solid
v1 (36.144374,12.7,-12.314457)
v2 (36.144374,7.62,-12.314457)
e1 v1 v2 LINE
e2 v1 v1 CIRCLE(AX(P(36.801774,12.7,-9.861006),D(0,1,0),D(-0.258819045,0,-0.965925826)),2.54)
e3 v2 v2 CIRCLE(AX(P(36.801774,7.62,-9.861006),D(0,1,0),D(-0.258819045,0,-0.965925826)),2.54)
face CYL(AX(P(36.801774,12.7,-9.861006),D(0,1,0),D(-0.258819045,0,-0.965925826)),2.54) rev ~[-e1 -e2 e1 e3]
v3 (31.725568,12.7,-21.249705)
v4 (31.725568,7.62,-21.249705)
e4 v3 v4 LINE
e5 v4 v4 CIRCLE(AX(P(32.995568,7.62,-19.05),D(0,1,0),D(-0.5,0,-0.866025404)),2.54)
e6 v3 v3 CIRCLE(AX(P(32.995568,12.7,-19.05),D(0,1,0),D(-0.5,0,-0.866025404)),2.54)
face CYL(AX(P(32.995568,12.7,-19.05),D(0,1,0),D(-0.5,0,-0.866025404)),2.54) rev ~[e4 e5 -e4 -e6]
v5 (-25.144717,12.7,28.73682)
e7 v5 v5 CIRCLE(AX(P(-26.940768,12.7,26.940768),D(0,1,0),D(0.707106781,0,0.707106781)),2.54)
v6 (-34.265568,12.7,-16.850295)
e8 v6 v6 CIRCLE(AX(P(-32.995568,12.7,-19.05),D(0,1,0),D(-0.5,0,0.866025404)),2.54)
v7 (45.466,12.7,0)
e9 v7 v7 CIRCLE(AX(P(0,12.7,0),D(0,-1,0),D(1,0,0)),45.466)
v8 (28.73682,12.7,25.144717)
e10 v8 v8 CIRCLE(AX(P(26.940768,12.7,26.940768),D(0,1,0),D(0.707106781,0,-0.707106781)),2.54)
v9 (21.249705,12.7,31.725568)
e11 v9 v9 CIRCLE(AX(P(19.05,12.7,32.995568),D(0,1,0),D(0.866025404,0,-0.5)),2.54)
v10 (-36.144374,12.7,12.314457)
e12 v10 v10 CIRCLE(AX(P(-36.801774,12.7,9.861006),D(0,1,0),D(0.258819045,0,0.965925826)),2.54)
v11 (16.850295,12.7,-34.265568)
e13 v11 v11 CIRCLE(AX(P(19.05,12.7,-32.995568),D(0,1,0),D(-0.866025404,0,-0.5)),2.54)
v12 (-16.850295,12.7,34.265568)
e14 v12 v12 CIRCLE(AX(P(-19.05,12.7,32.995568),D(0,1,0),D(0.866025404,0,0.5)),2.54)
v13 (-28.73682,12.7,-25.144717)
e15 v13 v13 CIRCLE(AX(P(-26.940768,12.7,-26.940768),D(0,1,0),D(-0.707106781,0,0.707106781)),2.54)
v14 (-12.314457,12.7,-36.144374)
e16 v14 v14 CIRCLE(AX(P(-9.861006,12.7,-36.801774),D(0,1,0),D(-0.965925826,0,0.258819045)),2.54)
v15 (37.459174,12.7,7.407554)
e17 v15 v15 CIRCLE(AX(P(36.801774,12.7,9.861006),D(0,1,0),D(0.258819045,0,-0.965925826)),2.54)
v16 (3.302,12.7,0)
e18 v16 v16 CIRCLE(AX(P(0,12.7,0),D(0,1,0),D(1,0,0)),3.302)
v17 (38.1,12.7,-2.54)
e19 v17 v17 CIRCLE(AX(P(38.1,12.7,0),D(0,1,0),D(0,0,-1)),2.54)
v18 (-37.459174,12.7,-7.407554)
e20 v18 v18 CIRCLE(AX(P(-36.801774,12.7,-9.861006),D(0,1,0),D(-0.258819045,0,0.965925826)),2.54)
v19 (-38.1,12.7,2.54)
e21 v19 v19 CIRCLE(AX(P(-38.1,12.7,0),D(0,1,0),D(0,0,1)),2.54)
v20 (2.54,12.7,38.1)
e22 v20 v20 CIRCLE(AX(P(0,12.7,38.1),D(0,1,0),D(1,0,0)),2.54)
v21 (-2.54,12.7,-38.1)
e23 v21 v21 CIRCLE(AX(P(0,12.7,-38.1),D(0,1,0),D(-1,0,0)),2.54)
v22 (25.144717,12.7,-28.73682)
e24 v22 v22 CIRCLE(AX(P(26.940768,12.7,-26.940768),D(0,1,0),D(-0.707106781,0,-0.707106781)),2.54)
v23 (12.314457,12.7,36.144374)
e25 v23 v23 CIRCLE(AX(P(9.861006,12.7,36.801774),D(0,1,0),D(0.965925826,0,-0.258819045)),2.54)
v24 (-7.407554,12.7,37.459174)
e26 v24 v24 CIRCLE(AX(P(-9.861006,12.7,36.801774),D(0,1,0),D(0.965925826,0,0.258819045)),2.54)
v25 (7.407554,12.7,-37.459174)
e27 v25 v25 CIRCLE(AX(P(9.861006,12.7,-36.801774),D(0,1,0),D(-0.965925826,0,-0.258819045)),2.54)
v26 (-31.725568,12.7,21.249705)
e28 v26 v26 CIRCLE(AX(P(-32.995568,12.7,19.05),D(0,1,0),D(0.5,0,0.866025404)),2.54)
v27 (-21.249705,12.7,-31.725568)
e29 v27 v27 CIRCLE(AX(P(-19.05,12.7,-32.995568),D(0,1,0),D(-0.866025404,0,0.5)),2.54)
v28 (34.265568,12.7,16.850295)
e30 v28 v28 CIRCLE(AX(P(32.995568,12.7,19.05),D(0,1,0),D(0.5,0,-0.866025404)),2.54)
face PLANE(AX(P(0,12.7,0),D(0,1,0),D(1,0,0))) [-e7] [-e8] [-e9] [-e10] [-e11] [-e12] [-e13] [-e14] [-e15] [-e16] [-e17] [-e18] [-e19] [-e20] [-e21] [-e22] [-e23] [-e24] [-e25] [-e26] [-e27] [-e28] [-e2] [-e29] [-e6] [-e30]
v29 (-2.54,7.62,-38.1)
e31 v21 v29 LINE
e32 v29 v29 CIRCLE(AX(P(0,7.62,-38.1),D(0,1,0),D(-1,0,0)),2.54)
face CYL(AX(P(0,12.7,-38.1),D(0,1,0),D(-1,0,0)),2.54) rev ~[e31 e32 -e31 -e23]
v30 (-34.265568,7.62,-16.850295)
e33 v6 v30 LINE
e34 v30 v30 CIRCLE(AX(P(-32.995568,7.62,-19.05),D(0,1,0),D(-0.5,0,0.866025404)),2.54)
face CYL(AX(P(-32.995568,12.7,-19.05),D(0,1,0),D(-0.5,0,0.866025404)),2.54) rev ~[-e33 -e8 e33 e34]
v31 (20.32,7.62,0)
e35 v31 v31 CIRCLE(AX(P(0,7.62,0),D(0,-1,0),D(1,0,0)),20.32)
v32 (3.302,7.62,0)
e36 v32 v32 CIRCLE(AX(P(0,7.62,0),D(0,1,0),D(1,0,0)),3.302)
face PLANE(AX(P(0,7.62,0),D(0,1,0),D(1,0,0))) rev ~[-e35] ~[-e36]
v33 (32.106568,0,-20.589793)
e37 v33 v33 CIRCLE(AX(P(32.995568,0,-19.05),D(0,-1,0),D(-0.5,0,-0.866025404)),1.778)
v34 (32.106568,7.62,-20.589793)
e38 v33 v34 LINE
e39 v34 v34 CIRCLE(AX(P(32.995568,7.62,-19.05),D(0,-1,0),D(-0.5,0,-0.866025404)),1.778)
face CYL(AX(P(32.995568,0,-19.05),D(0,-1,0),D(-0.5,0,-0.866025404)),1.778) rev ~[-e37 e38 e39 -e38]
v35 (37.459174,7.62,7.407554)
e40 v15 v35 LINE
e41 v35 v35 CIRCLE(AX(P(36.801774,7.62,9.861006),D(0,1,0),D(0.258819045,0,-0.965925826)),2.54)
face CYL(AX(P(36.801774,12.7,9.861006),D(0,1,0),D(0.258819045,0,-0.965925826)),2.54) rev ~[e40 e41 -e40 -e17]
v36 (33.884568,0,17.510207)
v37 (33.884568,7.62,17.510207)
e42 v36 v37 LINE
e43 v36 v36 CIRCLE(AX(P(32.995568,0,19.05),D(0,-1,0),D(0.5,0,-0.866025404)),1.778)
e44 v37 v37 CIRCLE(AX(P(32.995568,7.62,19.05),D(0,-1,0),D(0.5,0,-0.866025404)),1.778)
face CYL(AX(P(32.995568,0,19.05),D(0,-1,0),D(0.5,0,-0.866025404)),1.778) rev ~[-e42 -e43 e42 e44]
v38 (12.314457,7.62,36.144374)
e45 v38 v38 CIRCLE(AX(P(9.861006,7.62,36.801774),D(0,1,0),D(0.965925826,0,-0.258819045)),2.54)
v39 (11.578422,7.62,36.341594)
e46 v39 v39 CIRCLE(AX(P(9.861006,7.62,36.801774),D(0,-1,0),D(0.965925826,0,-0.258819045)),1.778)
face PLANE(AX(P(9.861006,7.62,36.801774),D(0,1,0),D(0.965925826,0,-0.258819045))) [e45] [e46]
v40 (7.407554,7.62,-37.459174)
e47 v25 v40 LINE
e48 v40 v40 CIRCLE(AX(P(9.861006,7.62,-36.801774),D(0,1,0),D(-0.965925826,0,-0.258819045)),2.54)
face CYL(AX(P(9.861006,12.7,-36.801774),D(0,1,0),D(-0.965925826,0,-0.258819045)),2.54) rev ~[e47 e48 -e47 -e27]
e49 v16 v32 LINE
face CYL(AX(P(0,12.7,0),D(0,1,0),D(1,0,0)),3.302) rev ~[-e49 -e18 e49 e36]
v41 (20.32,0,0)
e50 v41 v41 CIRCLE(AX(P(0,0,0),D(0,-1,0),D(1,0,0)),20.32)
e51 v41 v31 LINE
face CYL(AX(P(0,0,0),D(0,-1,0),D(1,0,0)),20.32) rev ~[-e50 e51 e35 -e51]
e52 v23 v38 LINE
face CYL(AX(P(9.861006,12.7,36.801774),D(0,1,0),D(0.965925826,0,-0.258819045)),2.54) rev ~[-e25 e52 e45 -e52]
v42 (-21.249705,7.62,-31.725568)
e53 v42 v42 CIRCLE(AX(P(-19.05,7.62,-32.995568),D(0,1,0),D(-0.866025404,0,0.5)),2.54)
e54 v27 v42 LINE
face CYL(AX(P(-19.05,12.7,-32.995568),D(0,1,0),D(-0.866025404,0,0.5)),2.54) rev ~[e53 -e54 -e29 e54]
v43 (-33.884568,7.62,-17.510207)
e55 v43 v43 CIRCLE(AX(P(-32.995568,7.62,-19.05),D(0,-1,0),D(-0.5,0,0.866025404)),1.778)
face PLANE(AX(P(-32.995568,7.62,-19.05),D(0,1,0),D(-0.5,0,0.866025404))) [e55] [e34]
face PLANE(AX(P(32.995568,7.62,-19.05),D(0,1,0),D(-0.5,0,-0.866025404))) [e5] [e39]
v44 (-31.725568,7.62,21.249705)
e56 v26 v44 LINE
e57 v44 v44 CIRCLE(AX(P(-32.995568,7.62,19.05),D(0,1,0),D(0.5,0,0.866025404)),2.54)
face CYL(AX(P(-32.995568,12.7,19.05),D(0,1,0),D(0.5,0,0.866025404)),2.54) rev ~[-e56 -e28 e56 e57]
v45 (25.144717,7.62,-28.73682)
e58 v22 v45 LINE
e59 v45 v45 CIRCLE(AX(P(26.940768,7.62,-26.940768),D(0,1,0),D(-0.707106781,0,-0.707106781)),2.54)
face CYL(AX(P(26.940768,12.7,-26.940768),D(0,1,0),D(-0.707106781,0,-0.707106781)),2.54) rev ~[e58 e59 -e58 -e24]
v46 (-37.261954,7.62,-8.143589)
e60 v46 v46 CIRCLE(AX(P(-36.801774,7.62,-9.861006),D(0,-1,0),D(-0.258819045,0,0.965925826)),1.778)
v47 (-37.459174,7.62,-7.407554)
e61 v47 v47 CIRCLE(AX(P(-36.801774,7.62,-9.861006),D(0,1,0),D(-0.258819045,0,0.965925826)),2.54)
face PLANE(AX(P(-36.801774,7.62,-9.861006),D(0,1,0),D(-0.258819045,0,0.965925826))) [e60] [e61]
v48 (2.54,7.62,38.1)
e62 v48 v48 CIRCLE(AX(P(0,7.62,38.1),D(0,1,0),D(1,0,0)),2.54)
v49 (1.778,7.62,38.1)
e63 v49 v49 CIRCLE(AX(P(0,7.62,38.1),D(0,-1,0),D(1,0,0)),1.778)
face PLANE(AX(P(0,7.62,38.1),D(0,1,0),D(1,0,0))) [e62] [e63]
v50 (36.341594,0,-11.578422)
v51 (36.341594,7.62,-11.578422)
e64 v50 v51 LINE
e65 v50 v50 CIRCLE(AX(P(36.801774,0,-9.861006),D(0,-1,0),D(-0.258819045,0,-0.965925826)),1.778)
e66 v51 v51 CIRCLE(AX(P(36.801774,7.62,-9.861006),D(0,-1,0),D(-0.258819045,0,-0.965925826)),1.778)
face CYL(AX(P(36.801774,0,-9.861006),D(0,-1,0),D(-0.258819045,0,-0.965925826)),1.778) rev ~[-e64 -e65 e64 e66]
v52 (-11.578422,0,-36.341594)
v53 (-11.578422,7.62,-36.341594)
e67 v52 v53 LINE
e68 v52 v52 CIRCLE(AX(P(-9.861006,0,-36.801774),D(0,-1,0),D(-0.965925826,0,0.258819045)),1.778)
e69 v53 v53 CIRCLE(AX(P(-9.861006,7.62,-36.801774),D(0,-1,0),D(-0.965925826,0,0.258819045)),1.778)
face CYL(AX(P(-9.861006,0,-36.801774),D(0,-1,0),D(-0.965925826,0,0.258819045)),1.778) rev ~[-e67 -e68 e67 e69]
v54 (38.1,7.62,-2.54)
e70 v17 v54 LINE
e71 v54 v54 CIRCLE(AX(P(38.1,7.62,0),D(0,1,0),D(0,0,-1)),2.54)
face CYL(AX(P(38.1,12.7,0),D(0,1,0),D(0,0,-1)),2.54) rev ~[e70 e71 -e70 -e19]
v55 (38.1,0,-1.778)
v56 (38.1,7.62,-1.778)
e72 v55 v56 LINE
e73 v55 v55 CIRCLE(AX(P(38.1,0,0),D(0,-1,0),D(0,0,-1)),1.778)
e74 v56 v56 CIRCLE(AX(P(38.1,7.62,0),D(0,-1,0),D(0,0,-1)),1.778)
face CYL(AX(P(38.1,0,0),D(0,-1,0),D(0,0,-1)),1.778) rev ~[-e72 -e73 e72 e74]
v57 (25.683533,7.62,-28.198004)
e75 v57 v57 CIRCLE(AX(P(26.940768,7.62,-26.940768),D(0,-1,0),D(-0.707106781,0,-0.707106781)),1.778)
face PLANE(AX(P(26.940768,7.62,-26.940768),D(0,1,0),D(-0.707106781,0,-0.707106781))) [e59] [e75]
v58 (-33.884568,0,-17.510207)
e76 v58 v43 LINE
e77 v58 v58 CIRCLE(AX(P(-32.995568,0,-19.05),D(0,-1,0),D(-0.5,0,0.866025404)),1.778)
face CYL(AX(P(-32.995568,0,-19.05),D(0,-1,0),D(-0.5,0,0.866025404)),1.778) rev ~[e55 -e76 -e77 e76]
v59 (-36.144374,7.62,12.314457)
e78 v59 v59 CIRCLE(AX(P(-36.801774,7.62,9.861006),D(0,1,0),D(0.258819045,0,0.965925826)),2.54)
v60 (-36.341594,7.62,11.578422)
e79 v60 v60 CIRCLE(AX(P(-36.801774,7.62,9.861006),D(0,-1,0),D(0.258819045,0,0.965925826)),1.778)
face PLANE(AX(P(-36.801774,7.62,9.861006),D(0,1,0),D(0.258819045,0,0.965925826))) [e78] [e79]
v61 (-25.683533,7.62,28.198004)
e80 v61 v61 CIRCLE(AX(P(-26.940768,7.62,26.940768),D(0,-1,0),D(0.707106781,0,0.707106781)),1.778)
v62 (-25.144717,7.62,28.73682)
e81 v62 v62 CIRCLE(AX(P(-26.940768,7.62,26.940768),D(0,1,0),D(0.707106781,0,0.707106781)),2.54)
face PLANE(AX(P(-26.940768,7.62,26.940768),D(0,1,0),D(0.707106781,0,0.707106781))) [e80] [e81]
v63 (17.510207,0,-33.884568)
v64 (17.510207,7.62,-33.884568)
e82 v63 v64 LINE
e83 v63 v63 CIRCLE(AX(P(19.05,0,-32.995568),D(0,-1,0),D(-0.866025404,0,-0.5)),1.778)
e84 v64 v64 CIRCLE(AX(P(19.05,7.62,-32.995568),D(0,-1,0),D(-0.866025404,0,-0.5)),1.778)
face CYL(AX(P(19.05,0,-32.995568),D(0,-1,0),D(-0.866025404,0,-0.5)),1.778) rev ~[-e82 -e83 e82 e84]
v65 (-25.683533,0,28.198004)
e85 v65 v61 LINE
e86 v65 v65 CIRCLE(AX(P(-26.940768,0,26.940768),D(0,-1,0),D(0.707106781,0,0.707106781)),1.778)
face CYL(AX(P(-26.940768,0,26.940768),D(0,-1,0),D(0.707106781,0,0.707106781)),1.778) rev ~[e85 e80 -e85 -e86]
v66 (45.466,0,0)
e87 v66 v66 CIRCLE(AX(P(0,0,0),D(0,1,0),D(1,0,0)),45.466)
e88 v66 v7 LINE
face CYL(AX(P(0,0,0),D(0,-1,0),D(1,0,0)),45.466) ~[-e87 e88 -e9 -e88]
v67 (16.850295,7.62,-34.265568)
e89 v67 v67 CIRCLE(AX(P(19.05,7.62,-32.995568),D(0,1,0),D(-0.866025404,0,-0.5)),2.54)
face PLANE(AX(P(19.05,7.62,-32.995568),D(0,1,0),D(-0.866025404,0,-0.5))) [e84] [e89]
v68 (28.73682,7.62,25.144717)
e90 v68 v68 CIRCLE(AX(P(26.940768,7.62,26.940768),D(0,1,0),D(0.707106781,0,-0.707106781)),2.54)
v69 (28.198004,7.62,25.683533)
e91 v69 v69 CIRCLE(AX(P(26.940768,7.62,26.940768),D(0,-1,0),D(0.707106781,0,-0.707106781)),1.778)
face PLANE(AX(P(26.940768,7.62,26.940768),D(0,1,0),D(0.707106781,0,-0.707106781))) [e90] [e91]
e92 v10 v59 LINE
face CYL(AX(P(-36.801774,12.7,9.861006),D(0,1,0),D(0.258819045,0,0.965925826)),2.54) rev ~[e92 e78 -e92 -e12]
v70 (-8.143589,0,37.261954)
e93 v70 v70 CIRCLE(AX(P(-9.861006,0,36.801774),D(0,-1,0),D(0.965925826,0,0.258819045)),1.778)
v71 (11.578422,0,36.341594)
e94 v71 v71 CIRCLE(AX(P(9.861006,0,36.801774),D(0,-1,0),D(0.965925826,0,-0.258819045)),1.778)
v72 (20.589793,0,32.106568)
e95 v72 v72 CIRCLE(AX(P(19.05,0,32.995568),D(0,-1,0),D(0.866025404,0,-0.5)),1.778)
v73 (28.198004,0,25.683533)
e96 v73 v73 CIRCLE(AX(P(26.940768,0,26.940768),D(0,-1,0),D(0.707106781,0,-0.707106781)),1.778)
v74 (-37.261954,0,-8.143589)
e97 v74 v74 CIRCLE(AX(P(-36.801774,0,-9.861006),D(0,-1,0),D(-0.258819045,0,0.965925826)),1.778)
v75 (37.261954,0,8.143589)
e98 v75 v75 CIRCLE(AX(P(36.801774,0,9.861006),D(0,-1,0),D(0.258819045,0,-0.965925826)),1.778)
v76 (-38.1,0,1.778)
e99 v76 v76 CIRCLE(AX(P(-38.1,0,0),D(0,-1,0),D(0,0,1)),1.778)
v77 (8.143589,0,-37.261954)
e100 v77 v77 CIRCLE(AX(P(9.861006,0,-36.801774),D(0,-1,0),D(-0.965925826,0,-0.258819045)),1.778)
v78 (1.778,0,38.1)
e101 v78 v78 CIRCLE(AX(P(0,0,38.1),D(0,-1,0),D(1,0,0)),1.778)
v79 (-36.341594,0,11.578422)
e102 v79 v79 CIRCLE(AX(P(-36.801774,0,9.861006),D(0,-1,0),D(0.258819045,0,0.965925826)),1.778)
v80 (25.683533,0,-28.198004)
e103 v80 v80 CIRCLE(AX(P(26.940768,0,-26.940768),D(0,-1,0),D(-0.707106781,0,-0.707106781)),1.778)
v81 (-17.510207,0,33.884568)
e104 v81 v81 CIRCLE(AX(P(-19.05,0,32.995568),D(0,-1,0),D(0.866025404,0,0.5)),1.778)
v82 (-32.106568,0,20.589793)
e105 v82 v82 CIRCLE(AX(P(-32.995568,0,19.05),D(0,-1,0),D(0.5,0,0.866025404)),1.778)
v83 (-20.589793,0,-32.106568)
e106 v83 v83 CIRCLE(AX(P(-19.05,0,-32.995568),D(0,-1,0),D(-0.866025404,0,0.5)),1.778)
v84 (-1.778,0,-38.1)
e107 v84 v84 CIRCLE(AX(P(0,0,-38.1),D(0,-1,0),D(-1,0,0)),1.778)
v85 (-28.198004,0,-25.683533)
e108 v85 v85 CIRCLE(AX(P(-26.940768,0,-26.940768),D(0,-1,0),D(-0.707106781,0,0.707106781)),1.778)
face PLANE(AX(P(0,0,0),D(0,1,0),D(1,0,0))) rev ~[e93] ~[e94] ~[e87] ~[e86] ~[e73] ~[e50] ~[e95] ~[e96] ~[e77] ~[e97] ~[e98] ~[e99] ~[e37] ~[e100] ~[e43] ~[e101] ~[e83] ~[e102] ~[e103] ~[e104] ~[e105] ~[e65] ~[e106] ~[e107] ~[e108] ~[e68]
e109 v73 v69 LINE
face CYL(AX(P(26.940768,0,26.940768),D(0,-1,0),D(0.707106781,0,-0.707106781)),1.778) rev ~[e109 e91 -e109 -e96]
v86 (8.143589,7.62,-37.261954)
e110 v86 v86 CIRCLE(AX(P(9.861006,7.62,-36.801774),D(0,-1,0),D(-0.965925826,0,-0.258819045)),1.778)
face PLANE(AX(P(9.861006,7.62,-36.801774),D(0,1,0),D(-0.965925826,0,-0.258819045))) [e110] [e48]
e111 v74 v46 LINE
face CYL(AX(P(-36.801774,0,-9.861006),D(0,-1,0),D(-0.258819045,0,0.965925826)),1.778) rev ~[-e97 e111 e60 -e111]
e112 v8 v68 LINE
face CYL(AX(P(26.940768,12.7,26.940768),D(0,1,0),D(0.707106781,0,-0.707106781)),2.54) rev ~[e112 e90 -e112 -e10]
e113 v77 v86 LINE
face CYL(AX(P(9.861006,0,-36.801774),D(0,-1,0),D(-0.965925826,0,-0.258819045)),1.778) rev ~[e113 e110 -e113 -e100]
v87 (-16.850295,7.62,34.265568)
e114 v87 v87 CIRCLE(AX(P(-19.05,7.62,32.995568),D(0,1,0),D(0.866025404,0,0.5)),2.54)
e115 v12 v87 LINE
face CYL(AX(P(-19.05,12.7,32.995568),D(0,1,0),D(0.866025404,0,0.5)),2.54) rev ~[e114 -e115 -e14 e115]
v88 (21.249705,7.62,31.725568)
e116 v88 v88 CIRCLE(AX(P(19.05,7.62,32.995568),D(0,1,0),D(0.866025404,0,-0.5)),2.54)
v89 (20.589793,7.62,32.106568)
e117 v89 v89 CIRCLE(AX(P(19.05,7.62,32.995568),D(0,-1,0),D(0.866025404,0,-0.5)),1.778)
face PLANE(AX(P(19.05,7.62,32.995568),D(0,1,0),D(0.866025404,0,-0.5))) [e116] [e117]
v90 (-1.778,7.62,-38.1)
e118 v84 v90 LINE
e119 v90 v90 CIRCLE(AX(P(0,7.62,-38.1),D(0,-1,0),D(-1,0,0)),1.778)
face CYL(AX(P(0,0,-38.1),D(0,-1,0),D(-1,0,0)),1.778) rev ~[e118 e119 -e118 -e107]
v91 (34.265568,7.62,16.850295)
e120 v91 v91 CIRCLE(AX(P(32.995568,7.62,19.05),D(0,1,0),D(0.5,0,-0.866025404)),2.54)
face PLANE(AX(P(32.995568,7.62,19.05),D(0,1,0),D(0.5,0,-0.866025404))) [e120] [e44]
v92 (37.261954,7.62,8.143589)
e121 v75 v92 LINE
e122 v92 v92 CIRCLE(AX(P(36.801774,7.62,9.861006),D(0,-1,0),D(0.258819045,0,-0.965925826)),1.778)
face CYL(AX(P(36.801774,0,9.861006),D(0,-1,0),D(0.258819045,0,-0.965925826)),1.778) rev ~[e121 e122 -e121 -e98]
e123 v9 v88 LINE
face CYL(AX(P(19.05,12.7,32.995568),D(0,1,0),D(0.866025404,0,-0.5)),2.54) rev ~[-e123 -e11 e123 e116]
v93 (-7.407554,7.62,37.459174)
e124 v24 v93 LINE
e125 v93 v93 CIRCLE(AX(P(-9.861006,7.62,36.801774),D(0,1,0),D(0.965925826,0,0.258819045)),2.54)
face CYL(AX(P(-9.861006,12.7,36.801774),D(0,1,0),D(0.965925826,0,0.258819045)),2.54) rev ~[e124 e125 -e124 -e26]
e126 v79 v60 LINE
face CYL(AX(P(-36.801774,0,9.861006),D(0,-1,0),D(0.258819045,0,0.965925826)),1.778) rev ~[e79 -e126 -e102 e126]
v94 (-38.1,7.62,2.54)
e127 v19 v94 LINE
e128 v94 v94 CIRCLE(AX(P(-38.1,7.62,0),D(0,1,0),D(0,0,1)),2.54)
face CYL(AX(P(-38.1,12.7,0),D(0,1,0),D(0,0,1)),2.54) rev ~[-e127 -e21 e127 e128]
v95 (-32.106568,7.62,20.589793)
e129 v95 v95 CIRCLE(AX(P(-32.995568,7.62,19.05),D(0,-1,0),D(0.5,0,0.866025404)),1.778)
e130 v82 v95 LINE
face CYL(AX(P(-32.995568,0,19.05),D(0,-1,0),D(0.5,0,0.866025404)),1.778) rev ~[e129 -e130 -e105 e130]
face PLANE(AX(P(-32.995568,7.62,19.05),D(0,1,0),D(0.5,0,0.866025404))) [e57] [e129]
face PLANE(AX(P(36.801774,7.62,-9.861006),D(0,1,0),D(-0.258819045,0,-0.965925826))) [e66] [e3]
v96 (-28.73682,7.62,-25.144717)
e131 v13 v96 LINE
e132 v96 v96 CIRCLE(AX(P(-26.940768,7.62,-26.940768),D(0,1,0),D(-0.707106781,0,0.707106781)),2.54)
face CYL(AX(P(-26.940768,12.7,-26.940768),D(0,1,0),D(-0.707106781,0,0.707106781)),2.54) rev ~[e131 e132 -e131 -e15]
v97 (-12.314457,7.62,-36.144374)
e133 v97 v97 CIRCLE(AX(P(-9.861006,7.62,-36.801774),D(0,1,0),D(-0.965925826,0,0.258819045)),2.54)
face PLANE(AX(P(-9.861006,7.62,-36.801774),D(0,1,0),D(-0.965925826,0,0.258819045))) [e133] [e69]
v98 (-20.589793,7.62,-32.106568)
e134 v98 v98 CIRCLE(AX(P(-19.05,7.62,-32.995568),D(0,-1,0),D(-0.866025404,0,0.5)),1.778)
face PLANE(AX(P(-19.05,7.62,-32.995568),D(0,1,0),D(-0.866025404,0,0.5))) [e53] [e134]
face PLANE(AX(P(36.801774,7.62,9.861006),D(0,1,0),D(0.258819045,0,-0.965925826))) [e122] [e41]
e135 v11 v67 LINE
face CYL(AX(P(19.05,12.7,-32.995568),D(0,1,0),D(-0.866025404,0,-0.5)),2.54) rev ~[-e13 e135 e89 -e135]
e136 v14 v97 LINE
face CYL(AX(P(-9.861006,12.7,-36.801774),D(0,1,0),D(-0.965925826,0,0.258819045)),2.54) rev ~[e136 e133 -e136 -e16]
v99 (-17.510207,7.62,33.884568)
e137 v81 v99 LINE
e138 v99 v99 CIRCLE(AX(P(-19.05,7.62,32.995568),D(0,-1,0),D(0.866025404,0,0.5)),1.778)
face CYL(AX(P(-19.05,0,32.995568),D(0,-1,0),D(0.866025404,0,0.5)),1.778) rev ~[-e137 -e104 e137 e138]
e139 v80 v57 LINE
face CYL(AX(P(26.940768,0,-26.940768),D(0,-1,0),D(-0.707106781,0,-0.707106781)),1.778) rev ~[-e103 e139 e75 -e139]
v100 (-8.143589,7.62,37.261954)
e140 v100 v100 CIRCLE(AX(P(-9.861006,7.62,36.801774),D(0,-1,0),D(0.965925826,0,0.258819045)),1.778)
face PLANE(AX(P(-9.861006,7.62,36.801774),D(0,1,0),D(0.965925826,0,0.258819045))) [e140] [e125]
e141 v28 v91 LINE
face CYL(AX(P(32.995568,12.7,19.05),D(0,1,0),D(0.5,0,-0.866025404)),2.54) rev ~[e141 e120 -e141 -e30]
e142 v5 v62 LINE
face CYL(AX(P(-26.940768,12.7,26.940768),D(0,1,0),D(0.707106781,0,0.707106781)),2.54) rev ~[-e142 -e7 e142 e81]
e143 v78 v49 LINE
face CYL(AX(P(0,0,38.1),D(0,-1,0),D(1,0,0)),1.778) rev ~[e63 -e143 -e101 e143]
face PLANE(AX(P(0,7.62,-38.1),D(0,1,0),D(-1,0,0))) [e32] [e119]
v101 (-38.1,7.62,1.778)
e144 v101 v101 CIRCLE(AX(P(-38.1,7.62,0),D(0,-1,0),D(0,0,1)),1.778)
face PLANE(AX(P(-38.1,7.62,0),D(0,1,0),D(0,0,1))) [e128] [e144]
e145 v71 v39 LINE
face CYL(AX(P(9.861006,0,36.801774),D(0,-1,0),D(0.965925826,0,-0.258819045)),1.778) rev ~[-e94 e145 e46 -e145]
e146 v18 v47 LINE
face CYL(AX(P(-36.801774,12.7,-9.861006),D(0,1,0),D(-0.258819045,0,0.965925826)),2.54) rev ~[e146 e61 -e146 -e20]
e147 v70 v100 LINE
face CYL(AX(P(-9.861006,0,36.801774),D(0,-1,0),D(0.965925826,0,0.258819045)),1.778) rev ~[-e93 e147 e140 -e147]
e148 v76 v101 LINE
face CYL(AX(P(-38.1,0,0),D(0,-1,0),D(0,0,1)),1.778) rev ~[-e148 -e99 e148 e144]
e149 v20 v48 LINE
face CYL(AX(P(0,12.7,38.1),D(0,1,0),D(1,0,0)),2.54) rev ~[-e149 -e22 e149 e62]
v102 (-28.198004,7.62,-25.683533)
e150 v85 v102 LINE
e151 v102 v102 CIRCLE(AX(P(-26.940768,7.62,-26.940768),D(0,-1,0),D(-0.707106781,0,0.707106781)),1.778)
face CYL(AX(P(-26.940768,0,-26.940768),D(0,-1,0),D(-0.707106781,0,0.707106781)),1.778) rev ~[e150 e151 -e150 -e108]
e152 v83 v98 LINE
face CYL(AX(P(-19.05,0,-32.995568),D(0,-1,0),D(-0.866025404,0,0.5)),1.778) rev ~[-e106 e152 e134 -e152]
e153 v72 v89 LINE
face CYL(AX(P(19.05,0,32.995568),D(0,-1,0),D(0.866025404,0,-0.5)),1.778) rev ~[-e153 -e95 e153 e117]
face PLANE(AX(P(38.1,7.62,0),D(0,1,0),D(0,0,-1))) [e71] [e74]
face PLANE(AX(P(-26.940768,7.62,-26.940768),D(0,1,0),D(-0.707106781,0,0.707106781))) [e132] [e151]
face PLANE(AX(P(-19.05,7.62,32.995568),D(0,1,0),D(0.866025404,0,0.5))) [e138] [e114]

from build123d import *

# Parameters (mm, degrees)
SKETCH1_R                                        = 45.466
BOSS_EXTRUDE1_DEPTH                              = 25.4
SKETCH3_R                                        = 20.32
CUT_EXTRUDE1_DEPTH                               = 12.7
CSK_FOR_1_4_FLAT_HEAD_MACHINE_SCREW1_D           = 6.5278
CSK_FOR_1_4_FLAT_HEAD_MACHINE_SCREW1_DEPTH       = 25.4
CSK_FOR_1_4_FLAT_HEAD_MACHINE_SCREW1_CSINK_D     = 12.8778
CSK_FOR_1_4_FLAT_HEAD_MACHINE_SCREW1_CSINK_ANGLE = 82
CSK_FOR_1_4_FLAT_HEAD_MACHINE_SCREW1_TIP         = 1.961148974
SKETCH8_R                                        = 46.955588052
CUT_EXTRUDE2_DEPTH                               = 12.7
SKETCH4_R                                        = 1.778
CUT_EXTRUDE3_DEPTH                               = 13.7
SKETCH9_R                                        = 2.54
CUT_EXTRUDE4_DEPTH                               = 5.08
CIRPATTERN1_COUNT                                = 24
SKETCH10_R                                       = 22.834776664
BOSS_EXTRUDE2_DEPTH                              = 5.08
SKETCH11_R                                       = 3.302
CUT_EXTRUDE5_DEPTH                               = 13.7


with BuildPart() as part:
    # Sketch1 → Boss-Extrude1 (new body)
    with BuildSketch(Plane(origin=(0, 0, 0), x_dir=(1, 0, 0), z_dir=(0, 1, 0))):
        Circle(SKETCH1_R)
    extrude(amount=BOSS_EXTRUDE1_DEPTH)

    # Sketch3 → Cut-Extrude1 (cut)
    with BuildSketch(Plane.XZ):
        Circle(SKETCH3_R)
    extrude(amount=-CUT_EXTRUDE1_DEPTH, mode=Mode.SUBTRACT)

    # CSK for 1/4 Flat Head Machine Screw1
    with Locations(Plane(origin=(0, 25.4, 0), x_dir=(1, 0, 0), z_dir=(0, 1, 0))):
        with Locations((0, 0)):
            CounterSinkHole(CSK_FOR_1_4_FLAT_HEAD_MACHINE_SCREW1_D / 2, CSK_FOR_1_4_FLAT_HEAD_MACHINE_SCREW1_CSINK_D / 2, depth=CSK_FOR_1_4_FLAT_HEAD_MACHINE_SCREW1_DEPTH, counter_sink_angle=CSK_FOR_1_4_FLAT_HEAD_MACHINE_SCREW1_CSINK_ANGLE)
            with Locations((0, 0, -(CSK_FOR_1_4_FLAT_HEAD_MACHINE_SCREW1_DEPTH + CSK_FOR_1_4_FLAT_HEAD_MACHINE_SCREW1_TIP / 2))):  # 118° drill point
                Cone(0, CSK_FOR_1_4_FLAT_HEAD_MACHINE_SCREW1_D / 2, CSK_FOR_1_4_FLAT_HEAD_MACHINE_SCREW1_TIP, mode=Mode.SUBTRACT)

    # Sketch8 → Cut-Extrude2 (cut)
    with BuildSketch(Plane(origin=(0, 25.4, 0), x_dir=(1, 0, 0), z_dir=(0, 1, 0))):
        Circle(SKETCH8_R)
    extrude(amount=-CUT_EXTRUDE2_DEPTH, mode=Mode.SUBTRACT)

    # Sketch4 → Cut-Extrude3 (cut, through all)
    with BuildSketch(Plane.XZ):
        with Locations((0, 38.1)):
            Circle(SKETCH4_R)
    cut_extrude3 = extrude(amount=-CUT_EXTRUDE3_DEPTH, mode=Mode.SUBTRACT)

    # Sketch9 → Cut-Extrude4 (cut)
    with BuildSketch(Plane(origin=(0, 12.7, 0), x_dir=(1, 0, 0), z_dir=(0, 1, 0))):
        with Locations((0, -38.1)):
            Circle(SKETCH9_R)
    cut_extrude4 = extrude(amount=-CUT_EXTRUDE4_DEPTH, mode=Mode.SUBTRACT)

    # CirPattern1: Cut-Extrude3, Cut-Extrude4 ×24 about axis
    cirpattern1_axis = Axis((0, 0, 0), (0, 1, 0))
    for i in range(1, CIRPATTERN1_COUNT):
        add(cut_extrude3.rotate(cirpattern1_axis, i * 360 / CIRPATTERN1_COUNT), mode=Mode.SUBTRACT)
        add(cut_extrude4.rotate(cirpattern1_axis, i * 360 / CIRPATTERN1_COUNT), mode=Mode.SUBTRACT)

    # Sketch10 → Boss-Extrude2 (add)
    with BuildSketch(Plane(origin=(0, 12.7, 0), x_dir=(1, 0, 0), z_dir=(0, 1, 0))):
        Circle(SKETCH10_R)
    extrude(amount=-BOSS_EXTRUDE2_DEPTH)

    # Sketch11 → Cut-Extrude5 (cut, through all)
    with BuildSketch(Plane(origin=(0, 12.7, 0), x_dir=(1, 0, 0), z_dir=(0, 1, 0))):
        Circle(SKETCH11_R)
    extrude(amount=-CUT_EXTRUDE5_DEPTH, mode=Mode.SUBTRACT)


solid = part.part
